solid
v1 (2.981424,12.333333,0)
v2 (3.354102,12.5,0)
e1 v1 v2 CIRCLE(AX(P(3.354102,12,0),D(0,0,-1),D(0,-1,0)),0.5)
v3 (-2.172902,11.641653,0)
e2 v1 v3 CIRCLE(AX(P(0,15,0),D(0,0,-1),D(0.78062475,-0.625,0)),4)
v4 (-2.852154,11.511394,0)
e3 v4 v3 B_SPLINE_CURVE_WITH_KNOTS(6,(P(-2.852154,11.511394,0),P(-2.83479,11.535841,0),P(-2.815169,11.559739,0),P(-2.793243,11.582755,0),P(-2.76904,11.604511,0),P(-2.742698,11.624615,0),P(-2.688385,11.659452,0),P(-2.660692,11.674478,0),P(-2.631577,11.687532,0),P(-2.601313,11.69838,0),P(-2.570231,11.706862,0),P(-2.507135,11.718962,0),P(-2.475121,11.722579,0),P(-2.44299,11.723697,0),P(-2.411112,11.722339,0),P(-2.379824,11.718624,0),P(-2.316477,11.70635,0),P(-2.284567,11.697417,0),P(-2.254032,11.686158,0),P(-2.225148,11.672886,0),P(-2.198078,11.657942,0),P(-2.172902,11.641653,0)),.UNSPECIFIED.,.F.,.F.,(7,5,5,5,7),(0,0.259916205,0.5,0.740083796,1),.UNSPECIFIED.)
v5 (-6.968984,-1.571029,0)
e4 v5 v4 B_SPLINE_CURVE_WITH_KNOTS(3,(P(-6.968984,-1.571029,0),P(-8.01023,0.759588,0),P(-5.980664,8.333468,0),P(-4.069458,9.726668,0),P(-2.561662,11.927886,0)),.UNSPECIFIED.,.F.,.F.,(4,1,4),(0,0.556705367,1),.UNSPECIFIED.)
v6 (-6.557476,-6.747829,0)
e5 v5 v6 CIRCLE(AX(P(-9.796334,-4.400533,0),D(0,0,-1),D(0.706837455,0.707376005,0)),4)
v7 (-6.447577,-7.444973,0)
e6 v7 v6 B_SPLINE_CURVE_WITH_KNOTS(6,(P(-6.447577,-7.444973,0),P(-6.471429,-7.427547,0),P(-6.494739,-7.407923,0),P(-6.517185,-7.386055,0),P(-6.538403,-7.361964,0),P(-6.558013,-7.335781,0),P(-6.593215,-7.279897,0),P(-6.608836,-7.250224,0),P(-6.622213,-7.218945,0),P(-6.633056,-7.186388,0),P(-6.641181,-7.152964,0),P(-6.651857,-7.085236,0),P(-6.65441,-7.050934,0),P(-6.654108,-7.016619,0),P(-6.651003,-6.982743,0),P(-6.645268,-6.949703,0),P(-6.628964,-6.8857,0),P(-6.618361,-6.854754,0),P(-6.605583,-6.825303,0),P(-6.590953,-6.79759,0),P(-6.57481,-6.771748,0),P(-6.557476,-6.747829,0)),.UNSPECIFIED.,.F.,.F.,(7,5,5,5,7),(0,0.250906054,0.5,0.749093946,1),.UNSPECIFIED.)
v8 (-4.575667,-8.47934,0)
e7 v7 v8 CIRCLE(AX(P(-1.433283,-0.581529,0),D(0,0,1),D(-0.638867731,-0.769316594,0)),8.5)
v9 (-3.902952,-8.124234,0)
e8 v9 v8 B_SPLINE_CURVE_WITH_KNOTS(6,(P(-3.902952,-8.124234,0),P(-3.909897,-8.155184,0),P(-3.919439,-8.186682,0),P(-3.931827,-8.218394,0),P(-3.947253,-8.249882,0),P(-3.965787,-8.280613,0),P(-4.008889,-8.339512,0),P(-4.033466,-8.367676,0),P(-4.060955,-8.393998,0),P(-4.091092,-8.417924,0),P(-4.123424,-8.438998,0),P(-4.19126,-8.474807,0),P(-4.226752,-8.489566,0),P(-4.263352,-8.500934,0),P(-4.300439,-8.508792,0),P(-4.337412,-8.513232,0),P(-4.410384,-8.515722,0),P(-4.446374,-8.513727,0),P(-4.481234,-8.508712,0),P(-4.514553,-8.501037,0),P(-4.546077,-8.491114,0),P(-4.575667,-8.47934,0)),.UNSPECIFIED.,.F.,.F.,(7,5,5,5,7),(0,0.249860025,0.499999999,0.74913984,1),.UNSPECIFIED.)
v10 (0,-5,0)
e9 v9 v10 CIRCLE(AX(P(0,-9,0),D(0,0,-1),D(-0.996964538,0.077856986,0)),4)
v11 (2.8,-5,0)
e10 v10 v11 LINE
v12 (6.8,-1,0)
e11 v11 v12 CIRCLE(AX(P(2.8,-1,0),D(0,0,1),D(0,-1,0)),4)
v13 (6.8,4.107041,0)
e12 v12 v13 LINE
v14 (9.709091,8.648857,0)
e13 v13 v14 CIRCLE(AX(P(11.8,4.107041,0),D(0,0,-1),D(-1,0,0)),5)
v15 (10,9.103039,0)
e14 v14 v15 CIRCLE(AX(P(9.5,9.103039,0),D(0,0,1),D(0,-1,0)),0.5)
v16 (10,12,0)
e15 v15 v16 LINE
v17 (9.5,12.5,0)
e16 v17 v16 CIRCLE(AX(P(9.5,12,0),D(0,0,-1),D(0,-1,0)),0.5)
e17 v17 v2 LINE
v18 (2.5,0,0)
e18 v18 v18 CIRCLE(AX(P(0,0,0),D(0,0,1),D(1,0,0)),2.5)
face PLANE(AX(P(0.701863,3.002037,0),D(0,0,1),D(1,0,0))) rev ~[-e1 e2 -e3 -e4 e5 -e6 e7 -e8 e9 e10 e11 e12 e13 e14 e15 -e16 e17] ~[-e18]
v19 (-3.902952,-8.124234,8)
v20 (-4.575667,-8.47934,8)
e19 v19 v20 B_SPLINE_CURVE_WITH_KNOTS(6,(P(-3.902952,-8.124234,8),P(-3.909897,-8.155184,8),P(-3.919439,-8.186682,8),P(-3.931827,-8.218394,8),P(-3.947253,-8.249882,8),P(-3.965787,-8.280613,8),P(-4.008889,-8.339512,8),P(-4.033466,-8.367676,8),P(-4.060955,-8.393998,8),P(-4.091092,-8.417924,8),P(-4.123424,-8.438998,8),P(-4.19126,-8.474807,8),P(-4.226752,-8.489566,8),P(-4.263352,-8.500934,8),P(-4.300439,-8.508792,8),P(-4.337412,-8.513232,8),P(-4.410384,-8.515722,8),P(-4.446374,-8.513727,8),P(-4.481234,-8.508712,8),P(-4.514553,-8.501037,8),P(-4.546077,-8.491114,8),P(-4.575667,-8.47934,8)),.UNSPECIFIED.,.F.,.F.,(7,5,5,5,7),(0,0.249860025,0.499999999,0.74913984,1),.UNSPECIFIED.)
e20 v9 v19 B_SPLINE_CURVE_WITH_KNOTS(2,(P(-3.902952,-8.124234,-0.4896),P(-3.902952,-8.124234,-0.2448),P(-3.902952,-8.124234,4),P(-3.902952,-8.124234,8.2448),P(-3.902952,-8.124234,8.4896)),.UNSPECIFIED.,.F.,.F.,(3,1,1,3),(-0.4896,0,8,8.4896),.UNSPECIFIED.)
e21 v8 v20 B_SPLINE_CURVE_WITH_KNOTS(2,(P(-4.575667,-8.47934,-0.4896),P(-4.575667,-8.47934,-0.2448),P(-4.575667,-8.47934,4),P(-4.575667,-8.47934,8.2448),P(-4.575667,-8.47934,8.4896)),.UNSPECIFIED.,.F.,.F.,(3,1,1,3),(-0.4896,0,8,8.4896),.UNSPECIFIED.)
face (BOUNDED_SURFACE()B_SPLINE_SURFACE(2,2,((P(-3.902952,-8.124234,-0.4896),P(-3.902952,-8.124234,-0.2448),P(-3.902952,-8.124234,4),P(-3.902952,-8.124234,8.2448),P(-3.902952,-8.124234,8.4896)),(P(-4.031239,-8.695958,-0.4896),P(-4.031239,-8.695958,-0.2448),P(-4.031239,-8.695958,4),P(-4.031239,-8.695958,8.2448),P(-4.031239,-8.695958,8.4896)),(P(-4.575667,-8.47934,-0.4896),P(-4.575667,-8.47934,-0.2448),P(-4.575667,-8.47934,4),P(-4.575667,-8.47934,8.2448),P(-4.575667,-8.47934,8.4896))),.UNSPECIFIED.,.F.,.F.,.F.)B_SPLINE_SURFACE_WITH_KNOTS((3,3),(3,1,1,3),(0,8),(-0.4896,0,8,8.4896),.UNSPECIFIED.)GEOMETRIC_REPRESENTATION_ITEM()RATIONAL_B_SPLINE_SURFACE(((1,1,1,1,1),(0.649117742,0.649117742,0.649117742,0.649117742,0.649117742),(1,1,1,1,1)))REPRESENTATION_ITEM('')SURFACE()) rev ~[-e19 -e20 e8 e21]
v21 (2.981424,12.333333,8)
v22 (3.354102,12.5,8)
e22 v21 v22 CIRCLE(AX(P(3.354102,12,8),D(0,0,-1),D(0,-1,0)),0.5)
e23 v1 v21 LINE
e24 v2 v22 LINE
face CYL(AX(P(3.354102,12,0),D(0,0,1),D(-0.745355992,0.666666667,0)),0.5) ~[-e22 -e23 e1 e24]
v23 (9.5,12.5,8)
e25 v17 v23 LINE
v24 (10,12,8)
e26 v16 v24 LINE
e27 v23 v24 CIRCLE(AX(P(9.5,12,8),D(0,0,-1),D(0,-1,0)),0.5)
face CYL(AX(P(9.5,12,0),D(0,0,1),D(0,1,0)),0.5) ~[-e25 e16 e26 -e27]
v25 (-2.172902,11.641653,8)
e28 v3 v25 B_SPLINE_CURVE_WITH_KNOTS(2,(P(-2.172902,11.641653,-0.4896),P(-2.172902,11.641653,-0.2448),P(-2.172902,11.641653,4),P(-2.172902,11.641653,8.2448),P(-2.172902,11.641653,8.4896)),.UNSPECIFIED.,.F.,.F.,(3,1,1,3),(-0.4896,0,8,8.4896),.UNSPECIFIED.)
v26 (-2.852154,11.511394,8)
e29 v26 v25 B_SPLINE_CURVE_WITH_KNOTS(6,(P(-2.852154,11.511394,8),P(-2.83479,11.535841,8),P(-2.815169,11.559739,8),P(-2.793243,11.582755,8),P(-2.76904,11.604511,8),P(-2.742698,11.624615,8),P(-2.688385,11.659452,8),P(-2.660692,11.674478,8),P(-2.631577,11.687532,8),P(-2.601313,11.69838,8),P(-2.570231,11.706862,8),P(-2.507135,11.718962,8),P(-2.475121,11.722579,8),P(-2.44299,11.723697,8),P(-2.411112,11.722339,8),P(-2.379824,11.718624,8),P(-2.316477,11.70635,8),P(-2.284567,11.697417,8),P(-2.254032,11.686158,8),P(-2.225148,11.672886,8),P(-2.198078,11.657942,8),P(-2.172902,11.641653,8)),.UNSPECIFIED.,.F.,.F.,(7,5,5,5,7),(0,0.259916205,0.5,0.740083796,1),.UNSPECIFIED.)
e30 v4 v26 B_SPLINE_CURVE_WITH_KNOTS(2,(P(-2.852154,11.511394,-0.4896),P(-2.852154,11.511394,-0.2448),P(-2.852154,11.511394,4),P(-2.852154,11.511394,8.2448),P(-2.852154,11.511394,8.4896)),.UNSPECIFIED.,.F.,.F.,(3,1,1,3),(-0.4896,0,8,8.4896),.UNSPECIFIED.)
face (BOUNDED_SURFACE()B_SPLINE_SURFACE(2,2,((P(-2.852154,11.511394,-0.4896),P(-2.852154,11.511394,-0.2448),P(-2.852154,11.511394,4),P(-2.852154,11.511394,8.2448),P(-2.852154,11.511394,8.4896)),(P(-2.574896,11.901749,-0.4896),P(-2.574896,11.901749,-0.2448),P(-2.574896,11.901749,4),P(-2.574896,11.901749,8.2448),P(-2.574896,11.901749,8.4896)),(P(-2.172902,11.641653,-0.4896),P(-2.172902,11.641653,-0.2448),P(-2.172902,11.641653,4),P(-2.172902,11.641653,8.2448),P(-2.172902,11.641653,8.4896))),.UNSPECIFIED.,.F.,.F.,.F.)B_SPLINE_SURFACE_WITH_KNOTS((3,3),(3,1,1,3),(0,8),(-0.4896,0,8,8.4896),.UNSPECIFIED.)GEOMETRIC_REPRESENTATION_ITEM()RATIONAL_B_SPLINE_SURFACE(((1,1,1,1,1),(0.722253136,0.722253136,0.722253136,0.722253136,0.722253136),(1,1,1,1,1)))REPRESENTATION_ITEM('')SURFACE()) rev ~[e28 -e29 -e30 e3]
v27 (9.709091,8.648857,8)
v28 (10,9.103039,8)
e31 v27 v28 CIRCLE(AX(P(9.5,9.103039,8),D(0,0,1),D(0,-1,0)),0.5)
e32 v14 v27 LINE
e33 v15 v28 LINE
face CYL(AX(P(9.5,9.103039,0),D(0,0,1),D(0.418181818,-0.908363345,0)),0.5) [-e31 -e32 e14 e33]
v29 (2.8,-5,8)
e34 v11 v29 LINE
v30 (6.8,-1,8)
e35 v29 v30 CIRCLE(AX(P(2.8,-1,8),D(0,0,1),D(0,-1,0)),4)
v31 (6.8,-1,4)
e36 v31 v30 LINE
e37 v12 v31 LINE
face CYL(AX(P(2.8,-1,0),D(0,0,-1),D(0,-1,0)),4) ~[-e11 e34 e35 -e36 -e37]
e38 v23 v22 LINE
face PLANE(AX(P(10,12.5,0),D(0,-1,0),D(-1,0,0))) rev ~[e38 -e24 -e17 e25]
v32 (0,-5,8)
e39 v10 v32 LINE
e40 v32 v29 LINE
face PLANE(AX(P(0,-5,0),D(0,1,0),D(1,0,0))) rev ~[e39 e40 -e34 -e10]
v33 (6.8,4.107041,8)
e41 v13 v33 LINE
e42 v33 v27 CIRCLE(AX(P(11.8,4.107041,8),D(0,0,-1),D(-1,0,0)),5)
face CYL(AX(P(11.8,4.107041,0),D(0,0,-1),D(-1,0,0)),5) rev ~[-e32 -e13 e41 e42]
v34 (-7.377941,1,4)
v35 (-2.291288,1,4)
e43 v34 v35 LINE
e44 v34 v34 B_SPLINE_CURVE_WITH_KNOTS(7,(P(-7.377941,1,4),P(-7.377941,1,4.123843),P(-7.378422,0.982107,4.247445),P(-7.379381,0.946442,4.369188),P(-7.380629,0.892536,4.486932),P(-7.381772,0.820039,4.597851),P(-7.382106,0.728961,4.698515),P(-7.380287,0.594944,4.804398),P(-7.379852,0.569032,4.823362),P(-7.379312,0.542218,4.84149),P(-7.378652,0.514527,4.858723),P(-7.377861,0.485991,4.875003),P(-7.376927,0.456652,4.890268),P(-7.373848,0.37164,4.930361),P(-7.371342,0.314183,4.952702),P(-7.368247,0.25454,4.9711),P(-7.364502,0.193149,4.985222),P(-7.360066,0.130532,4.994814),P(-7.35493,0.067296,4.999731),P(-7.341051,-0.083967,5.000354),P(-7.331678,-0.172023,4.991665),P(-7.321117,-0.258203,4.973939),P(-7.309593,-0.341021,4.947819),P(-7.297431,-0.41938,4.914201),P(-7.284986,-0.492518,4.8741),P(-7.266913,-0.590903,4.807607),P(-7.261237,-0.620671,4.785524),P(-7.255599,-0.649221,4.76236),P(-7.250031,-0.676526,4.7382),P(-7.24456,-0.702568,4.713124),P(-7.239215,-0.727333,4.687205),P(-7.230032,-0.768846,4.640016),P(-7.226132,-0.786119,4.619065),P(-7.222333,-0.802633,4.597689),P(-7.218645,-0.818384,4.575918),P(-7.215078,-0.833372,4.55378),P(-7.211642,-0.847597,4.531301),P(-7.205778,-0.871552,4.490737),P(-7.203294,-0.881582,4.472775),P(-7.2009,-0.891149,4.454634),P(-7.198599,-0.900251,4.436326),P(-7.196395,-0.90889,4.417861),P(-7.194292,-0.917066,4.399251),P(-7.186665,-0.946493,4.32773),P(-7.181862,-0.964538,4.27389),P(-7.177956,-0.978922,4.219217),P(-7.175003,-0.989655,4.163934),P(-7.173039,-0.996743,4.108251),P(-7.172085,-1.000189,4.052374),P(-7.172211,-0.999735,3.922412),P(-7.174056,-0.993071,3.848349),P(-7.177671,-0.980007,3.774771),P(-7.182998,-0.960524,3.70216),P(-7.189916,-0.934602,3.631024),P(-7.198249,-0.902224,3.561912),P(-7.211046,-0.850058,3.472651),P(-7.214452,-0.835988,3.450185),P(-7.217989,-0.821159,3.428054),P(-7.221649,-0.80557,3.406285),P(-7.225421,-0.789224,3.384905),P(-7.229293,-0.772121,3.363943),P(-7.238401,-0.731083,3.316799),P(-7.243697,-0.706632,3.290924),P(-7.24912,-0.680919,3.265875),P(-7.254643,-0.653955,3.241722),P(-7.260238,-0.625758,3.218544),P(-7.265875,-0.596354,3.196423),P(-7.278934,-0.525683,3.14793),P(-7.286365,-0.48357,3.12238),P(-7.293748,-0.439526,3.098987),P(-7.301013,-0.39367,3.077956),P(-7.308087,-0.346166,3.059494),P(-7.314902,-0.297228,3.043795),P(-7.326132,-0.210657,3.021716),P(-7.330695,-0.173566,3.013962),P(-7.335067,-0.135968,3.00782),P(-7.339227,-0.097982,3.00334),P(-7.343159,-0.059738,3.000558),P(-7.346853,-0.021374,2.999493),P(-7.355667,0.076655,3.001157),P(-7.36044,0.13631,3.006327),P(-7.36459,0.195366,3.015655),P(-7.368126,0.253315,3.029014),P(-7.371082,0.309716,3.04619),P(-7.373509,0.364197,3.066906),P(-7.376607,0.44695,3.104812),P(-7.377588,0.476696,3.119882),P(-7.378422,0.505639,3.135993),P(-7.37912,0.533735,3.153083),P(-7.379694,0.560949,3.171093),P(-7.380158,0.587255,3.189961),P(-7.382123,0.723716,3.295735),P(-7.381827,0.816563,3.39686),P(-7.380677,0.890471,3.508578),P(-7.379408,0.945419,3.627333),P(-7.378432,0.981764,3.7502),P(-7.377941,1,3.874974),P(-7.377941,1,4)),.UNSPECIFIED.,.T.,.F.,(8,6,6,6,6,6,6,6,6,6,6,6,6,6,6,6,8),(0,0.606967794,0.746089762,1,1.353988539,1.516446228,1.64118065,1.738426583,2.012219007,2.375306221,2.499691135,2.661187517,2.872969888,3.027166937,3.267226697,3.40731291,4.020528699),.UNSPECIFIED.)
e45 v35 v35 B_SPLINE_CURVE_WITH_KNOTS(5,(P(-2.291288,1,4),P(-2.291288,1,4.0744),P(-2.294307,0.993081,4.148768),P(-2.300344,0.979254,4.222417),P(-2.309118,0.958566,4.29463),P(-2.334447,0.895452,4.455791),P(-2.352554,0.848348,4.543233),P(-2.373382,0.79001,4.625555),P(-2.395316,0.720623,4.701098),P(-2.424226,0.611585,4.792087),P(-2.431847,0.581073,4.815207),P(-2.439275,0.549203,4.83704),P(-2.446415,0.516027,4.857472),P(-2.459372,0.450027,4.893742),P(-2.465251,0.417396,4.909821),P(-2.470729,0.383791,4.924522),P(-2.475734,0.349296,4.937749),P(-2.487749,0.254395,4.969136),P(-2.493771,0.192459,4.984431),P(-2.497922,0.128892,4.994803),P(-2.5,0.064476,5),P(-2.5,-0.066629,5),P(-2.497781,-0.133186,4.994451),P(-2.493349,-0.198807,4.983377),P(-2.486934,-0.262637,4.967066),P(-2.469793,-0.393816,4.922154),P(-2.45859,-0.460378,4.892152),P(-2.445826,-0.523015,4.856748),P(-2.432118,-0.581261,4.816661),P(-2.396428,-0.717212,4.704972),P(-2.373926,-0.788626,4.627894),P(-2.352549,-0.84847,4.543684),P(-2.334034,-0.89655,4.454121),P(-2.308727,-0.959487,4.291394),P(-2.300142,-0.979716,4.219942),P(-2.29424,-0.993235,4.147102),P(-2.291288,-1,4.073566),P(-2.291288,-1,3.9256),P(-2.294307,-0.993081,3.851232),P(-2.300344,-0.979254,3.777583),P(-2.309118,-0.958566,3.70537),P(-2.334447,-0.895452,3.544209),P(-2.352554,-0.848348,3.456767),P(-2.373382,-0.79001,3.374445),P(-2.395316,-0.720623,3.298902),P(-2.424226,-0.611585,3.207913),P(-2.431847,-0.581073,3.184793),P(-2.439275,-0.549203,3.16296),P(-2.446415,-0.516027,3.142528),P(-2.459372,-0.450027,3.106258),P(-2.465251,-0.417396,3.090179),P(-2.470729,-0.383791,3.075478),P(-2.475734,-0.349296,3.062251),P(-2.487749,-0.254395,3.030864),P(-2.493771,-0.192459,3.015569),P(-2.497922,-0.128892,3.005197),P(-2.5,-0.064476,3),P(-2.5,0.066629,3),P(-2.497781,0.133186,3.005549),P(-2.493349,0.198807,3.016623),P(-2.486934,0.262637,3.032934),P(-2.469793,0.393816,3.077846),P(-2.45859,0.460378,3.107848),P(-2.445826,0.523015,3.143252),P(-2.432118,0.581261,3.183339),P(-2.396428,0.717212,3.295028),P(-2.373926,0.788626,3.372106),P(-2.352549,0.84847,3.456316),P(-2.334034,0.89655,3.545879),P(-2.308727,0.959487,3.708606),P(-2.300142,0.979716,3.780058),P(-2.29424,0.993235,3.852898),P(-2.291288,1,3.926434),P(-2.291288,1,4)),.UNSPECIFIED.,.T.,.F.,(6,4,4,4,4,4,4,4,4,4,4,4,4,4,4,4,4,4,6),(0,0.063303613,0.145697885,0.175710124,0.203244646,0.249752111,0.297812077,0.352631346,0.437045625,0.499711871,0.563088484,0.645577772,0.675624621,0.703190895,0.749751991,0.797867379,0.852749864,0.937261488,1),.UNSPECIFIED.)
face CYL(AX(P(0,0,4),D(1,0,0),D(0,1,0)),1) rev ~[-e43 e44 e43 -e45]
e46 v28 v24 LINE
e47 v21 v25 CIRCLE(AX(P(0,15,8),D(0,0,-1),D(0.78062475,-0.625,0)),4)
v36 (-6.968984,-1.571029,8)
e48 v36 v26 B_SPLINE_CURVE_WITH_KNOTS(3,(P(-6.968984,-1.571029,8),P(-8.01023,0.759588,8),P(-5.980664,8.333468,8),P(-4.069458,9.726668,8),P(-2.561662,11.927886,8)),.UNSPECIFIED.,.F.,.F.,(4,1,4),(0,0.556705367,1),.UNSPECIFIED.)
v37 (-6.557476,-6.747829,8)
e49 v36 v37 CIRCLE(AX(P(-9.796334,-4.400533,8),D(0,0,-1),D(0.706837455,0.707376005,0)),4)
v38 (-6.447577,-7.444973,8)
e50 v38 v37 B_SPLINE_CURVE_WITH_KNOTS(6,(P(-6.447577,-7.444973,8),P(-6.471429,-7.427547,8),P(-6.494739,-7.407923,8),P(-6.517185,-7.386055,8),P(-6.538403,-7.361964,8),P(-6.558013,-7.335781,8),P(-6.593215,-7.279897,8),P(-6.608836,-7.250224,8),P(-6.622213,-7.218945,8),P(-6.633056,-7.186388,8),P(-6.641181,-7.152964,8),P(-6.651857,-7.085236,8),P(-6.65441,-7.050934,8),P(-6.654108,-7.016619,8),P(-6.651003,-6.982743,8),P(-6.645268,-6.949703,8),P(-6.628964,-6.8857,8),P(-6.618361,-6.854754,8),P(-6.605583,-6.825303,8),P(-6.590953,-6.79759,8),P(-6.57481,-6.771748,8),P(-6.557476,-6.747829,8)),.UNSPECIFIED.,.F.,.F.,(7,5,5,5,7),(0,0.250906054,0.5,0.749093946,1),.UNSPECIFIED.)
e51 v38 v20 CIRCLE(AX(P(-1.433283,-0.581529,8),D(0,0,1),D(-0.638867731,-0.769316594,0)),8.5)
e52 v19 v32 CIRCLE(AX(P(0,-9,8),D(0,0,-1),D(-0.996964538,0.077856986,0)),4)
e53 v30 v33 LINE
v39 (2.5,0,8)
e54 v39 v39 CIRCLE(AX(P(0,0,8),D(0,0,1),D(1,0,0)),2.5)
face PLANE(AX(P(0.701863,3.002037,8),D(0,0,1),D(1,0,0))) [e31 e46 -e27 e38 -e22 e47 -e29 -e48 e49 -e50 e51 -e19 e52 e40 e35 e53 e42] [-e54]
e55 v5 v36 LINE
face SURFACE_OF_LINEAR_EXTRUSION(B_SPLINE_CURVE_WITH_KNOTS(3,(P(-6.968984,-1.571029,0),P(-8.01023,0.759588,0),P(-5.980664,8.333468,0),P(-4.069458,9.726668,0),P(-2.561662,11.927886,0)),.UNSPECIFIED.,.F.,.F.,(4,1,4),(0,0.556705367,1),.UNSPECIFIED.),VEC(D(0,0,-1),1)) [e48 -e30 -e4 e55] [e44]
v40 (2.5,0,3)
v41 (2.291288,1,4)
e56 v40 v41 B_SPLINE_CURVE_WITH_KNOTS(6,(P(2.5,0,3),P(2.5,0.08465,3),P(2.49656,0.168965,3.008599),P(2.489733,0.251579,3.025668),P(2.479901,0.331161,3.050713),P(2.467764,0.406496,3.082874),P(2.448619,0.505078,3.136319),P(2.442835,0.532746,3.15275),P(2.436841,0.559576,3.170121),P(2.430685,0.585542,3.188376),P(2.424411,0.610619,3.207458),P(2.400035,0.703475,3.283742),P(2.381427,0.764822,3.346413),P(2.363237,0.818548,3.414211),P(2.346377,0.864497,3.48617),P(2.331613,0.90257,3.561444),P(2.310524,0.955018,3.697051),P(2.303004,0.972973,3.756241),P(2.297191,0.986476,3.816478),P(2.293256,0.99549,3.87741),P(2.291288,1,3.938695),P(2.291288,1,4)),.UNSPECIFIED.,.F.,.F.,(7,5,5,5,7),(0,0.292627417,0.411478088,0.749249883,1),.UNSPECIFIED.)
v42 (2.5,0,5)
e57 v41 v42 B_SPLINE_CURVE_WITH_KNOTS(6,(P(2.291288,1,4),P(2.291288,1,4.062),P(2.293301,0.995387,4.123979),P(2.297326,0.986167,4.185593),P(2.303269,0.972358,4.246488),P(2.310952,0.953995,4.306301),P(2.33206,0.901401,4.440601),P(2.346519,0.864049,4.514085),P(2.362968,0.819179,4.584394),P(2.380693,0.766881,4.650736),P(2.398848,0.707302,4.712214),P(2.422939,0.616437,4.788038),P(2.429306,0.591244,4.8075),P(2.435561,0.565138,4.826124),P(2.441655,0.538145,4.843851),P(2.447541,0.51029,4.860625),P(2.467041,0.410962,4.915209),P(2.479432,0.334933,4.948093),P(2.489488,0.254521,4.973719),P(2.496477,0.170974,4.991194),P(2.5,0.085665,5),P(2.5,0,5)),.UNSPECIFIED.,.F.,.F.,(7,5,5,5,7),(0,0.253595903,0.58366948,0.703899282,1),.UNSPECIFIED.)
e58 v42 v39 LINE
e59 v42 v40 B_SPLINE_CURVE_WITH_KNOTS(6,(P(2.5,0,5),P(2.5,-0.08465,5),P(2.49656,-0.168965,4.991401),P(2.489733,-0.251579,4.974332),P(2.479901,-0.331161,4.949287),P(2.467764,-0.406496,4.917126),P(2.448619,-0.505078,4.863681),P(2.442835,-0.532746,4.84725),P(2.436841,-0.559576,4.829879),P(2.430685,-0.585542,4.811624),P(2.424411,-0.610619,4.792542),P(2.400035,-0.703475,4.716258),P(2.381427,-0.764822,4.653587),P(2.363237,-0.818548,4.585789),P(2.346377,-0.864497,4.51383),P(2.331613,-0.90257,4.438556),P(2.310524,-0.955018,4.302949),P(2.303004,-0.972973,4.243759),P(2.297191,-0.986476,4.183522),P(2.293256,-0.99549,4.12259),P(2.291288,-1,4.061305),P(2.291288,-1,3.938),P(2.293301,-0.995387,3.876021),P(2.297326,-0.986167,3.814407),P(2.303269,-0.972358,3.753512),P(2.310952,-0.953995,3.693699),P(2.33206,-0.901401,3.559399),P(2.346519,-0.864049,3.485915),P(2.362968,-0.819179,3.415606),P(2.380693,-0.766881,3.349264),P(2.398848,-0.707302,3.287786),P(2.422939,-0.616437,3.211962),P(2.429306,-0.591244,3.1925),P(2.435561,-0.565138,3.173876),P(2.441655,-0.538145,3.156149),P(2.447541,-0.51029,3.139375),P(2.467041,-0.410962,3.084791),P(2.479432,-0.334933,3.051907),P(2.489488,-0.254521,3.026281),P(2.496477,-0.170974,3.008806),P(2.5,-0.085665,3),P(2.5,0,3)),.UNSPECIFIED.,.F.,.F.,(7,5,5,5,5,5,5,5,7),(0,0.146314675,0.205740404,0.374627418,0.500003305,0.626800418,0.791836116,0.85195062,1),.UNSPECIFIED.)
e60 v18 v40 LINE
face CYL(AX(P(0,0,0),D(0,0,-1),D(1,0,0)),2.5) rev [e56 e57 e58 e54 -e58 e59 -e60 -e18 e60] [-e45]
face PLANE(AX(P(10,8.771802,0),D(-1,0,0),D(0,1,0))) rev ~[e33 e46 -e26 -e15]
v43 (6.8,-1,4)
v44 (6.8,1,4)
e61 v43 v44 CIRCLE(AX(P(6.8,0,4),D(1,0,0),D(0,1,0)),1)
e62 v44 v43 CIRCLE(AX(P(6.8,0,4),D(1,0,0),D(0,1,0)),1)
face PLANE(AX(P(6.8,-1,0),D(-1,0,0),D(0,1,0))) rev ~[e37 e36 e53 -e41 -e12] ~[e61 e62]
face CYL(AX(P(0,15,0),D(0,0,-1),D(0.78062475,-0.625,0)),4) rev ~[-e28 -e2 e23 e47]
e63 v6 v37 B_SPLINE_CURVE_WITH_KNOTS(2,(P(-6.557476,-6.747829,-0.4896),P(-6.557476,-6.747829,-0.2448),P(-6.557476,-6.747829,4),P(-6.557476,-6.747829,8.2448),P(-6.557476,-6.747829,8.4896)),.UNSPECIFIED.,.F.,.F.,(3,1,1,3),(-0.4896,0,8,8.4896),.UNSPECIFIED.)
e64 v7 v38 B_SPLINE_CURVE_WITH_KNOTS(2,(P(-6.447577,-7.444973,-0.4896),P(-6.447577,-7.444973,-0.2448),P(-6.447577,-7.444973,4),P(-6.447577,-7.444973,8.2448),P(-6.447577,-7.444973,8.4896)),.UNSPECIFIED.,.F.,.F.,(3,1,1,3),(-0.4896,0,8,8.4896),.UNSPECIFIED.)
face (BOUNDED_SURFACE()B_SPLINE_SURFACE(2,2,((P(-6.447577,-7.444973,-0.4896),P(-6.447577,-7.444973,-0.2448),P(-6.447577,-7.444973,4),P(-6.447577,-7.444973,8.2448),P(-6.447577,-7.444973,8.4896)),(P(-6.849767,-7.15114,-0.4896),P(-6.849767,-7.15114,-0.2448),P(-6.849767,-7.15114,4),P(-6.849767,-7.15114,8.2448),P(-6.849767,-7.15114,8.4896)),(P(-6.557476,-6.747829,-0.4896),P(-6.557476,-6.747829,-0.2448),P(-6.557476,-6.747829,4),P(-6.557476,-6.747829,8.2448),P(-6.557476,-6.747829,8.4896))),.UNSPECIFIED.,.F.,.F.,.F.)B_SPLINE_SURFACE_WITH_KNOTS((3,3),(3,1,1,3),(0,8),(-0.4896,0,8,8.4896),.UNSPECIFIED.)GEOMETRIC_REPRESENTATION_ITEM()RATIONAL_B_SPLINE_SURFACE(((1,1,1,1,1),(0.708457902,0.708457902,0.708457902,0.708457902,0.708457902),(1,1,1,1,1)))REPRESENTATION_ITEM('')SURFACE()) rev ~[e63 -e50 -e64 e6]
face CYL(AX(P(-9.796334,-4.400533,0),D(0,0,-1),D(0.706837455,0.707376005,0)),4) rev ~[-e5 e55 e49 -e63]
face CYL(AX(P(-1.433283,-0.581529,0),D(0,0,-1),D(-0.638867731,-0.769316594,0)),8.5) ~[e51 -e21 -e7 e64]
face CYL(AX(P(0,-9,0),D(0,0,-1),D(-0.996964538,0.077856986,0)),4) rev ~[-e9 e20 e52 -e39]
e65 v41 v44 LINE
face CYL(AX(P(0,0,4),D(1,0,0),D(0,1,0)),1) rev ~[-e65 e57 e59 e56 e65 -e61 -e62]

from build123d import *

# Parameters (mm, degrees)
F0_R     = 2.5
F1_DEPTH = 8
F2_R     = 0.5
F3_R     = 1
F4_DEPTH = 12.5


with BuildPart() as f1:
    # F0 (on Top) → F1 (new body)
    with BuildSketch(Plane.XY):
        with BuildLine():
            ThreePointArc((-3.9878581514, -8.6885720566), (-2.7160898573, -6.0635300296), (0, -5))
            Line((0, -5), (2.8, -5))
            ThreePointArc((2.8, -5), (5.6284271247, -3.8284271247), (6.8, -1))
            Line((6.8, -1), (6.8, 4.1070405464))
            ThreePointArc((6.8, 4.1070405464), (7.6768943744, 6.9354676711), (10, 8.7718020623))
            Line((10, 8.7718020623), (10, 12.5))
            Line((10, 12.5), (3.1224989992, 12.5))
            ThreePointArc((3.1224989992, 12.5), (0.4005785985, 11.0201084454), (-2.5616621646, 11.9278855889))
            add(Edge.make_bspline(
                [(-6.9689841618, -1.5710293014), (-8.0102303747, 0.7595881395), (-5.9806638587, 8.3334675363), (-4.0694582276, 9.7266677767), (-2.5616621646, 11.9278855889)],
                knots=[0, 0, 0, 0, 0.5567053674, 1, 1, 1, 1], degree=3))
            ThreePointArc((-6.9689841618, -1.5710293014), (-5.7970541621, -4.324632576), (-6.8636587821, -7.1207201108))
            ThreePointArc((-6.8636587821, -7.1207201108), (-5.5019929053, -8.0444775564), (-3.9878581514, -8.6885720566))
        make_face()
        Circle(F0_R, mode=Mode.SUBTRACT)
    extrude(amount=F1_DEPTH)

    # F2
    f2_edges = [f1.edges().sort_by_distance(p)[0] for p in [
        (10, 12.5, 4),
        (3.122499, 12.5, 4),
        (-2.561662, 11.927886, 4),
        (10, 8.771802, 4),
        (-3.987858, -8.688572, 4),
        (-6.863659, -7.12072, 4),
    ]]
    fillet(f2_edges, radius=F2_R)

    # F3 (on Right) → F4 (cut, symmetric)
    with BuildSketch(Plane.YZ):
        with Locations((0, 4)):
            Circle(F3_R)
    extrude(amount=F4_DEPTH, both=True, mode=Mode.SUBTRACT)


solid = f1.part
